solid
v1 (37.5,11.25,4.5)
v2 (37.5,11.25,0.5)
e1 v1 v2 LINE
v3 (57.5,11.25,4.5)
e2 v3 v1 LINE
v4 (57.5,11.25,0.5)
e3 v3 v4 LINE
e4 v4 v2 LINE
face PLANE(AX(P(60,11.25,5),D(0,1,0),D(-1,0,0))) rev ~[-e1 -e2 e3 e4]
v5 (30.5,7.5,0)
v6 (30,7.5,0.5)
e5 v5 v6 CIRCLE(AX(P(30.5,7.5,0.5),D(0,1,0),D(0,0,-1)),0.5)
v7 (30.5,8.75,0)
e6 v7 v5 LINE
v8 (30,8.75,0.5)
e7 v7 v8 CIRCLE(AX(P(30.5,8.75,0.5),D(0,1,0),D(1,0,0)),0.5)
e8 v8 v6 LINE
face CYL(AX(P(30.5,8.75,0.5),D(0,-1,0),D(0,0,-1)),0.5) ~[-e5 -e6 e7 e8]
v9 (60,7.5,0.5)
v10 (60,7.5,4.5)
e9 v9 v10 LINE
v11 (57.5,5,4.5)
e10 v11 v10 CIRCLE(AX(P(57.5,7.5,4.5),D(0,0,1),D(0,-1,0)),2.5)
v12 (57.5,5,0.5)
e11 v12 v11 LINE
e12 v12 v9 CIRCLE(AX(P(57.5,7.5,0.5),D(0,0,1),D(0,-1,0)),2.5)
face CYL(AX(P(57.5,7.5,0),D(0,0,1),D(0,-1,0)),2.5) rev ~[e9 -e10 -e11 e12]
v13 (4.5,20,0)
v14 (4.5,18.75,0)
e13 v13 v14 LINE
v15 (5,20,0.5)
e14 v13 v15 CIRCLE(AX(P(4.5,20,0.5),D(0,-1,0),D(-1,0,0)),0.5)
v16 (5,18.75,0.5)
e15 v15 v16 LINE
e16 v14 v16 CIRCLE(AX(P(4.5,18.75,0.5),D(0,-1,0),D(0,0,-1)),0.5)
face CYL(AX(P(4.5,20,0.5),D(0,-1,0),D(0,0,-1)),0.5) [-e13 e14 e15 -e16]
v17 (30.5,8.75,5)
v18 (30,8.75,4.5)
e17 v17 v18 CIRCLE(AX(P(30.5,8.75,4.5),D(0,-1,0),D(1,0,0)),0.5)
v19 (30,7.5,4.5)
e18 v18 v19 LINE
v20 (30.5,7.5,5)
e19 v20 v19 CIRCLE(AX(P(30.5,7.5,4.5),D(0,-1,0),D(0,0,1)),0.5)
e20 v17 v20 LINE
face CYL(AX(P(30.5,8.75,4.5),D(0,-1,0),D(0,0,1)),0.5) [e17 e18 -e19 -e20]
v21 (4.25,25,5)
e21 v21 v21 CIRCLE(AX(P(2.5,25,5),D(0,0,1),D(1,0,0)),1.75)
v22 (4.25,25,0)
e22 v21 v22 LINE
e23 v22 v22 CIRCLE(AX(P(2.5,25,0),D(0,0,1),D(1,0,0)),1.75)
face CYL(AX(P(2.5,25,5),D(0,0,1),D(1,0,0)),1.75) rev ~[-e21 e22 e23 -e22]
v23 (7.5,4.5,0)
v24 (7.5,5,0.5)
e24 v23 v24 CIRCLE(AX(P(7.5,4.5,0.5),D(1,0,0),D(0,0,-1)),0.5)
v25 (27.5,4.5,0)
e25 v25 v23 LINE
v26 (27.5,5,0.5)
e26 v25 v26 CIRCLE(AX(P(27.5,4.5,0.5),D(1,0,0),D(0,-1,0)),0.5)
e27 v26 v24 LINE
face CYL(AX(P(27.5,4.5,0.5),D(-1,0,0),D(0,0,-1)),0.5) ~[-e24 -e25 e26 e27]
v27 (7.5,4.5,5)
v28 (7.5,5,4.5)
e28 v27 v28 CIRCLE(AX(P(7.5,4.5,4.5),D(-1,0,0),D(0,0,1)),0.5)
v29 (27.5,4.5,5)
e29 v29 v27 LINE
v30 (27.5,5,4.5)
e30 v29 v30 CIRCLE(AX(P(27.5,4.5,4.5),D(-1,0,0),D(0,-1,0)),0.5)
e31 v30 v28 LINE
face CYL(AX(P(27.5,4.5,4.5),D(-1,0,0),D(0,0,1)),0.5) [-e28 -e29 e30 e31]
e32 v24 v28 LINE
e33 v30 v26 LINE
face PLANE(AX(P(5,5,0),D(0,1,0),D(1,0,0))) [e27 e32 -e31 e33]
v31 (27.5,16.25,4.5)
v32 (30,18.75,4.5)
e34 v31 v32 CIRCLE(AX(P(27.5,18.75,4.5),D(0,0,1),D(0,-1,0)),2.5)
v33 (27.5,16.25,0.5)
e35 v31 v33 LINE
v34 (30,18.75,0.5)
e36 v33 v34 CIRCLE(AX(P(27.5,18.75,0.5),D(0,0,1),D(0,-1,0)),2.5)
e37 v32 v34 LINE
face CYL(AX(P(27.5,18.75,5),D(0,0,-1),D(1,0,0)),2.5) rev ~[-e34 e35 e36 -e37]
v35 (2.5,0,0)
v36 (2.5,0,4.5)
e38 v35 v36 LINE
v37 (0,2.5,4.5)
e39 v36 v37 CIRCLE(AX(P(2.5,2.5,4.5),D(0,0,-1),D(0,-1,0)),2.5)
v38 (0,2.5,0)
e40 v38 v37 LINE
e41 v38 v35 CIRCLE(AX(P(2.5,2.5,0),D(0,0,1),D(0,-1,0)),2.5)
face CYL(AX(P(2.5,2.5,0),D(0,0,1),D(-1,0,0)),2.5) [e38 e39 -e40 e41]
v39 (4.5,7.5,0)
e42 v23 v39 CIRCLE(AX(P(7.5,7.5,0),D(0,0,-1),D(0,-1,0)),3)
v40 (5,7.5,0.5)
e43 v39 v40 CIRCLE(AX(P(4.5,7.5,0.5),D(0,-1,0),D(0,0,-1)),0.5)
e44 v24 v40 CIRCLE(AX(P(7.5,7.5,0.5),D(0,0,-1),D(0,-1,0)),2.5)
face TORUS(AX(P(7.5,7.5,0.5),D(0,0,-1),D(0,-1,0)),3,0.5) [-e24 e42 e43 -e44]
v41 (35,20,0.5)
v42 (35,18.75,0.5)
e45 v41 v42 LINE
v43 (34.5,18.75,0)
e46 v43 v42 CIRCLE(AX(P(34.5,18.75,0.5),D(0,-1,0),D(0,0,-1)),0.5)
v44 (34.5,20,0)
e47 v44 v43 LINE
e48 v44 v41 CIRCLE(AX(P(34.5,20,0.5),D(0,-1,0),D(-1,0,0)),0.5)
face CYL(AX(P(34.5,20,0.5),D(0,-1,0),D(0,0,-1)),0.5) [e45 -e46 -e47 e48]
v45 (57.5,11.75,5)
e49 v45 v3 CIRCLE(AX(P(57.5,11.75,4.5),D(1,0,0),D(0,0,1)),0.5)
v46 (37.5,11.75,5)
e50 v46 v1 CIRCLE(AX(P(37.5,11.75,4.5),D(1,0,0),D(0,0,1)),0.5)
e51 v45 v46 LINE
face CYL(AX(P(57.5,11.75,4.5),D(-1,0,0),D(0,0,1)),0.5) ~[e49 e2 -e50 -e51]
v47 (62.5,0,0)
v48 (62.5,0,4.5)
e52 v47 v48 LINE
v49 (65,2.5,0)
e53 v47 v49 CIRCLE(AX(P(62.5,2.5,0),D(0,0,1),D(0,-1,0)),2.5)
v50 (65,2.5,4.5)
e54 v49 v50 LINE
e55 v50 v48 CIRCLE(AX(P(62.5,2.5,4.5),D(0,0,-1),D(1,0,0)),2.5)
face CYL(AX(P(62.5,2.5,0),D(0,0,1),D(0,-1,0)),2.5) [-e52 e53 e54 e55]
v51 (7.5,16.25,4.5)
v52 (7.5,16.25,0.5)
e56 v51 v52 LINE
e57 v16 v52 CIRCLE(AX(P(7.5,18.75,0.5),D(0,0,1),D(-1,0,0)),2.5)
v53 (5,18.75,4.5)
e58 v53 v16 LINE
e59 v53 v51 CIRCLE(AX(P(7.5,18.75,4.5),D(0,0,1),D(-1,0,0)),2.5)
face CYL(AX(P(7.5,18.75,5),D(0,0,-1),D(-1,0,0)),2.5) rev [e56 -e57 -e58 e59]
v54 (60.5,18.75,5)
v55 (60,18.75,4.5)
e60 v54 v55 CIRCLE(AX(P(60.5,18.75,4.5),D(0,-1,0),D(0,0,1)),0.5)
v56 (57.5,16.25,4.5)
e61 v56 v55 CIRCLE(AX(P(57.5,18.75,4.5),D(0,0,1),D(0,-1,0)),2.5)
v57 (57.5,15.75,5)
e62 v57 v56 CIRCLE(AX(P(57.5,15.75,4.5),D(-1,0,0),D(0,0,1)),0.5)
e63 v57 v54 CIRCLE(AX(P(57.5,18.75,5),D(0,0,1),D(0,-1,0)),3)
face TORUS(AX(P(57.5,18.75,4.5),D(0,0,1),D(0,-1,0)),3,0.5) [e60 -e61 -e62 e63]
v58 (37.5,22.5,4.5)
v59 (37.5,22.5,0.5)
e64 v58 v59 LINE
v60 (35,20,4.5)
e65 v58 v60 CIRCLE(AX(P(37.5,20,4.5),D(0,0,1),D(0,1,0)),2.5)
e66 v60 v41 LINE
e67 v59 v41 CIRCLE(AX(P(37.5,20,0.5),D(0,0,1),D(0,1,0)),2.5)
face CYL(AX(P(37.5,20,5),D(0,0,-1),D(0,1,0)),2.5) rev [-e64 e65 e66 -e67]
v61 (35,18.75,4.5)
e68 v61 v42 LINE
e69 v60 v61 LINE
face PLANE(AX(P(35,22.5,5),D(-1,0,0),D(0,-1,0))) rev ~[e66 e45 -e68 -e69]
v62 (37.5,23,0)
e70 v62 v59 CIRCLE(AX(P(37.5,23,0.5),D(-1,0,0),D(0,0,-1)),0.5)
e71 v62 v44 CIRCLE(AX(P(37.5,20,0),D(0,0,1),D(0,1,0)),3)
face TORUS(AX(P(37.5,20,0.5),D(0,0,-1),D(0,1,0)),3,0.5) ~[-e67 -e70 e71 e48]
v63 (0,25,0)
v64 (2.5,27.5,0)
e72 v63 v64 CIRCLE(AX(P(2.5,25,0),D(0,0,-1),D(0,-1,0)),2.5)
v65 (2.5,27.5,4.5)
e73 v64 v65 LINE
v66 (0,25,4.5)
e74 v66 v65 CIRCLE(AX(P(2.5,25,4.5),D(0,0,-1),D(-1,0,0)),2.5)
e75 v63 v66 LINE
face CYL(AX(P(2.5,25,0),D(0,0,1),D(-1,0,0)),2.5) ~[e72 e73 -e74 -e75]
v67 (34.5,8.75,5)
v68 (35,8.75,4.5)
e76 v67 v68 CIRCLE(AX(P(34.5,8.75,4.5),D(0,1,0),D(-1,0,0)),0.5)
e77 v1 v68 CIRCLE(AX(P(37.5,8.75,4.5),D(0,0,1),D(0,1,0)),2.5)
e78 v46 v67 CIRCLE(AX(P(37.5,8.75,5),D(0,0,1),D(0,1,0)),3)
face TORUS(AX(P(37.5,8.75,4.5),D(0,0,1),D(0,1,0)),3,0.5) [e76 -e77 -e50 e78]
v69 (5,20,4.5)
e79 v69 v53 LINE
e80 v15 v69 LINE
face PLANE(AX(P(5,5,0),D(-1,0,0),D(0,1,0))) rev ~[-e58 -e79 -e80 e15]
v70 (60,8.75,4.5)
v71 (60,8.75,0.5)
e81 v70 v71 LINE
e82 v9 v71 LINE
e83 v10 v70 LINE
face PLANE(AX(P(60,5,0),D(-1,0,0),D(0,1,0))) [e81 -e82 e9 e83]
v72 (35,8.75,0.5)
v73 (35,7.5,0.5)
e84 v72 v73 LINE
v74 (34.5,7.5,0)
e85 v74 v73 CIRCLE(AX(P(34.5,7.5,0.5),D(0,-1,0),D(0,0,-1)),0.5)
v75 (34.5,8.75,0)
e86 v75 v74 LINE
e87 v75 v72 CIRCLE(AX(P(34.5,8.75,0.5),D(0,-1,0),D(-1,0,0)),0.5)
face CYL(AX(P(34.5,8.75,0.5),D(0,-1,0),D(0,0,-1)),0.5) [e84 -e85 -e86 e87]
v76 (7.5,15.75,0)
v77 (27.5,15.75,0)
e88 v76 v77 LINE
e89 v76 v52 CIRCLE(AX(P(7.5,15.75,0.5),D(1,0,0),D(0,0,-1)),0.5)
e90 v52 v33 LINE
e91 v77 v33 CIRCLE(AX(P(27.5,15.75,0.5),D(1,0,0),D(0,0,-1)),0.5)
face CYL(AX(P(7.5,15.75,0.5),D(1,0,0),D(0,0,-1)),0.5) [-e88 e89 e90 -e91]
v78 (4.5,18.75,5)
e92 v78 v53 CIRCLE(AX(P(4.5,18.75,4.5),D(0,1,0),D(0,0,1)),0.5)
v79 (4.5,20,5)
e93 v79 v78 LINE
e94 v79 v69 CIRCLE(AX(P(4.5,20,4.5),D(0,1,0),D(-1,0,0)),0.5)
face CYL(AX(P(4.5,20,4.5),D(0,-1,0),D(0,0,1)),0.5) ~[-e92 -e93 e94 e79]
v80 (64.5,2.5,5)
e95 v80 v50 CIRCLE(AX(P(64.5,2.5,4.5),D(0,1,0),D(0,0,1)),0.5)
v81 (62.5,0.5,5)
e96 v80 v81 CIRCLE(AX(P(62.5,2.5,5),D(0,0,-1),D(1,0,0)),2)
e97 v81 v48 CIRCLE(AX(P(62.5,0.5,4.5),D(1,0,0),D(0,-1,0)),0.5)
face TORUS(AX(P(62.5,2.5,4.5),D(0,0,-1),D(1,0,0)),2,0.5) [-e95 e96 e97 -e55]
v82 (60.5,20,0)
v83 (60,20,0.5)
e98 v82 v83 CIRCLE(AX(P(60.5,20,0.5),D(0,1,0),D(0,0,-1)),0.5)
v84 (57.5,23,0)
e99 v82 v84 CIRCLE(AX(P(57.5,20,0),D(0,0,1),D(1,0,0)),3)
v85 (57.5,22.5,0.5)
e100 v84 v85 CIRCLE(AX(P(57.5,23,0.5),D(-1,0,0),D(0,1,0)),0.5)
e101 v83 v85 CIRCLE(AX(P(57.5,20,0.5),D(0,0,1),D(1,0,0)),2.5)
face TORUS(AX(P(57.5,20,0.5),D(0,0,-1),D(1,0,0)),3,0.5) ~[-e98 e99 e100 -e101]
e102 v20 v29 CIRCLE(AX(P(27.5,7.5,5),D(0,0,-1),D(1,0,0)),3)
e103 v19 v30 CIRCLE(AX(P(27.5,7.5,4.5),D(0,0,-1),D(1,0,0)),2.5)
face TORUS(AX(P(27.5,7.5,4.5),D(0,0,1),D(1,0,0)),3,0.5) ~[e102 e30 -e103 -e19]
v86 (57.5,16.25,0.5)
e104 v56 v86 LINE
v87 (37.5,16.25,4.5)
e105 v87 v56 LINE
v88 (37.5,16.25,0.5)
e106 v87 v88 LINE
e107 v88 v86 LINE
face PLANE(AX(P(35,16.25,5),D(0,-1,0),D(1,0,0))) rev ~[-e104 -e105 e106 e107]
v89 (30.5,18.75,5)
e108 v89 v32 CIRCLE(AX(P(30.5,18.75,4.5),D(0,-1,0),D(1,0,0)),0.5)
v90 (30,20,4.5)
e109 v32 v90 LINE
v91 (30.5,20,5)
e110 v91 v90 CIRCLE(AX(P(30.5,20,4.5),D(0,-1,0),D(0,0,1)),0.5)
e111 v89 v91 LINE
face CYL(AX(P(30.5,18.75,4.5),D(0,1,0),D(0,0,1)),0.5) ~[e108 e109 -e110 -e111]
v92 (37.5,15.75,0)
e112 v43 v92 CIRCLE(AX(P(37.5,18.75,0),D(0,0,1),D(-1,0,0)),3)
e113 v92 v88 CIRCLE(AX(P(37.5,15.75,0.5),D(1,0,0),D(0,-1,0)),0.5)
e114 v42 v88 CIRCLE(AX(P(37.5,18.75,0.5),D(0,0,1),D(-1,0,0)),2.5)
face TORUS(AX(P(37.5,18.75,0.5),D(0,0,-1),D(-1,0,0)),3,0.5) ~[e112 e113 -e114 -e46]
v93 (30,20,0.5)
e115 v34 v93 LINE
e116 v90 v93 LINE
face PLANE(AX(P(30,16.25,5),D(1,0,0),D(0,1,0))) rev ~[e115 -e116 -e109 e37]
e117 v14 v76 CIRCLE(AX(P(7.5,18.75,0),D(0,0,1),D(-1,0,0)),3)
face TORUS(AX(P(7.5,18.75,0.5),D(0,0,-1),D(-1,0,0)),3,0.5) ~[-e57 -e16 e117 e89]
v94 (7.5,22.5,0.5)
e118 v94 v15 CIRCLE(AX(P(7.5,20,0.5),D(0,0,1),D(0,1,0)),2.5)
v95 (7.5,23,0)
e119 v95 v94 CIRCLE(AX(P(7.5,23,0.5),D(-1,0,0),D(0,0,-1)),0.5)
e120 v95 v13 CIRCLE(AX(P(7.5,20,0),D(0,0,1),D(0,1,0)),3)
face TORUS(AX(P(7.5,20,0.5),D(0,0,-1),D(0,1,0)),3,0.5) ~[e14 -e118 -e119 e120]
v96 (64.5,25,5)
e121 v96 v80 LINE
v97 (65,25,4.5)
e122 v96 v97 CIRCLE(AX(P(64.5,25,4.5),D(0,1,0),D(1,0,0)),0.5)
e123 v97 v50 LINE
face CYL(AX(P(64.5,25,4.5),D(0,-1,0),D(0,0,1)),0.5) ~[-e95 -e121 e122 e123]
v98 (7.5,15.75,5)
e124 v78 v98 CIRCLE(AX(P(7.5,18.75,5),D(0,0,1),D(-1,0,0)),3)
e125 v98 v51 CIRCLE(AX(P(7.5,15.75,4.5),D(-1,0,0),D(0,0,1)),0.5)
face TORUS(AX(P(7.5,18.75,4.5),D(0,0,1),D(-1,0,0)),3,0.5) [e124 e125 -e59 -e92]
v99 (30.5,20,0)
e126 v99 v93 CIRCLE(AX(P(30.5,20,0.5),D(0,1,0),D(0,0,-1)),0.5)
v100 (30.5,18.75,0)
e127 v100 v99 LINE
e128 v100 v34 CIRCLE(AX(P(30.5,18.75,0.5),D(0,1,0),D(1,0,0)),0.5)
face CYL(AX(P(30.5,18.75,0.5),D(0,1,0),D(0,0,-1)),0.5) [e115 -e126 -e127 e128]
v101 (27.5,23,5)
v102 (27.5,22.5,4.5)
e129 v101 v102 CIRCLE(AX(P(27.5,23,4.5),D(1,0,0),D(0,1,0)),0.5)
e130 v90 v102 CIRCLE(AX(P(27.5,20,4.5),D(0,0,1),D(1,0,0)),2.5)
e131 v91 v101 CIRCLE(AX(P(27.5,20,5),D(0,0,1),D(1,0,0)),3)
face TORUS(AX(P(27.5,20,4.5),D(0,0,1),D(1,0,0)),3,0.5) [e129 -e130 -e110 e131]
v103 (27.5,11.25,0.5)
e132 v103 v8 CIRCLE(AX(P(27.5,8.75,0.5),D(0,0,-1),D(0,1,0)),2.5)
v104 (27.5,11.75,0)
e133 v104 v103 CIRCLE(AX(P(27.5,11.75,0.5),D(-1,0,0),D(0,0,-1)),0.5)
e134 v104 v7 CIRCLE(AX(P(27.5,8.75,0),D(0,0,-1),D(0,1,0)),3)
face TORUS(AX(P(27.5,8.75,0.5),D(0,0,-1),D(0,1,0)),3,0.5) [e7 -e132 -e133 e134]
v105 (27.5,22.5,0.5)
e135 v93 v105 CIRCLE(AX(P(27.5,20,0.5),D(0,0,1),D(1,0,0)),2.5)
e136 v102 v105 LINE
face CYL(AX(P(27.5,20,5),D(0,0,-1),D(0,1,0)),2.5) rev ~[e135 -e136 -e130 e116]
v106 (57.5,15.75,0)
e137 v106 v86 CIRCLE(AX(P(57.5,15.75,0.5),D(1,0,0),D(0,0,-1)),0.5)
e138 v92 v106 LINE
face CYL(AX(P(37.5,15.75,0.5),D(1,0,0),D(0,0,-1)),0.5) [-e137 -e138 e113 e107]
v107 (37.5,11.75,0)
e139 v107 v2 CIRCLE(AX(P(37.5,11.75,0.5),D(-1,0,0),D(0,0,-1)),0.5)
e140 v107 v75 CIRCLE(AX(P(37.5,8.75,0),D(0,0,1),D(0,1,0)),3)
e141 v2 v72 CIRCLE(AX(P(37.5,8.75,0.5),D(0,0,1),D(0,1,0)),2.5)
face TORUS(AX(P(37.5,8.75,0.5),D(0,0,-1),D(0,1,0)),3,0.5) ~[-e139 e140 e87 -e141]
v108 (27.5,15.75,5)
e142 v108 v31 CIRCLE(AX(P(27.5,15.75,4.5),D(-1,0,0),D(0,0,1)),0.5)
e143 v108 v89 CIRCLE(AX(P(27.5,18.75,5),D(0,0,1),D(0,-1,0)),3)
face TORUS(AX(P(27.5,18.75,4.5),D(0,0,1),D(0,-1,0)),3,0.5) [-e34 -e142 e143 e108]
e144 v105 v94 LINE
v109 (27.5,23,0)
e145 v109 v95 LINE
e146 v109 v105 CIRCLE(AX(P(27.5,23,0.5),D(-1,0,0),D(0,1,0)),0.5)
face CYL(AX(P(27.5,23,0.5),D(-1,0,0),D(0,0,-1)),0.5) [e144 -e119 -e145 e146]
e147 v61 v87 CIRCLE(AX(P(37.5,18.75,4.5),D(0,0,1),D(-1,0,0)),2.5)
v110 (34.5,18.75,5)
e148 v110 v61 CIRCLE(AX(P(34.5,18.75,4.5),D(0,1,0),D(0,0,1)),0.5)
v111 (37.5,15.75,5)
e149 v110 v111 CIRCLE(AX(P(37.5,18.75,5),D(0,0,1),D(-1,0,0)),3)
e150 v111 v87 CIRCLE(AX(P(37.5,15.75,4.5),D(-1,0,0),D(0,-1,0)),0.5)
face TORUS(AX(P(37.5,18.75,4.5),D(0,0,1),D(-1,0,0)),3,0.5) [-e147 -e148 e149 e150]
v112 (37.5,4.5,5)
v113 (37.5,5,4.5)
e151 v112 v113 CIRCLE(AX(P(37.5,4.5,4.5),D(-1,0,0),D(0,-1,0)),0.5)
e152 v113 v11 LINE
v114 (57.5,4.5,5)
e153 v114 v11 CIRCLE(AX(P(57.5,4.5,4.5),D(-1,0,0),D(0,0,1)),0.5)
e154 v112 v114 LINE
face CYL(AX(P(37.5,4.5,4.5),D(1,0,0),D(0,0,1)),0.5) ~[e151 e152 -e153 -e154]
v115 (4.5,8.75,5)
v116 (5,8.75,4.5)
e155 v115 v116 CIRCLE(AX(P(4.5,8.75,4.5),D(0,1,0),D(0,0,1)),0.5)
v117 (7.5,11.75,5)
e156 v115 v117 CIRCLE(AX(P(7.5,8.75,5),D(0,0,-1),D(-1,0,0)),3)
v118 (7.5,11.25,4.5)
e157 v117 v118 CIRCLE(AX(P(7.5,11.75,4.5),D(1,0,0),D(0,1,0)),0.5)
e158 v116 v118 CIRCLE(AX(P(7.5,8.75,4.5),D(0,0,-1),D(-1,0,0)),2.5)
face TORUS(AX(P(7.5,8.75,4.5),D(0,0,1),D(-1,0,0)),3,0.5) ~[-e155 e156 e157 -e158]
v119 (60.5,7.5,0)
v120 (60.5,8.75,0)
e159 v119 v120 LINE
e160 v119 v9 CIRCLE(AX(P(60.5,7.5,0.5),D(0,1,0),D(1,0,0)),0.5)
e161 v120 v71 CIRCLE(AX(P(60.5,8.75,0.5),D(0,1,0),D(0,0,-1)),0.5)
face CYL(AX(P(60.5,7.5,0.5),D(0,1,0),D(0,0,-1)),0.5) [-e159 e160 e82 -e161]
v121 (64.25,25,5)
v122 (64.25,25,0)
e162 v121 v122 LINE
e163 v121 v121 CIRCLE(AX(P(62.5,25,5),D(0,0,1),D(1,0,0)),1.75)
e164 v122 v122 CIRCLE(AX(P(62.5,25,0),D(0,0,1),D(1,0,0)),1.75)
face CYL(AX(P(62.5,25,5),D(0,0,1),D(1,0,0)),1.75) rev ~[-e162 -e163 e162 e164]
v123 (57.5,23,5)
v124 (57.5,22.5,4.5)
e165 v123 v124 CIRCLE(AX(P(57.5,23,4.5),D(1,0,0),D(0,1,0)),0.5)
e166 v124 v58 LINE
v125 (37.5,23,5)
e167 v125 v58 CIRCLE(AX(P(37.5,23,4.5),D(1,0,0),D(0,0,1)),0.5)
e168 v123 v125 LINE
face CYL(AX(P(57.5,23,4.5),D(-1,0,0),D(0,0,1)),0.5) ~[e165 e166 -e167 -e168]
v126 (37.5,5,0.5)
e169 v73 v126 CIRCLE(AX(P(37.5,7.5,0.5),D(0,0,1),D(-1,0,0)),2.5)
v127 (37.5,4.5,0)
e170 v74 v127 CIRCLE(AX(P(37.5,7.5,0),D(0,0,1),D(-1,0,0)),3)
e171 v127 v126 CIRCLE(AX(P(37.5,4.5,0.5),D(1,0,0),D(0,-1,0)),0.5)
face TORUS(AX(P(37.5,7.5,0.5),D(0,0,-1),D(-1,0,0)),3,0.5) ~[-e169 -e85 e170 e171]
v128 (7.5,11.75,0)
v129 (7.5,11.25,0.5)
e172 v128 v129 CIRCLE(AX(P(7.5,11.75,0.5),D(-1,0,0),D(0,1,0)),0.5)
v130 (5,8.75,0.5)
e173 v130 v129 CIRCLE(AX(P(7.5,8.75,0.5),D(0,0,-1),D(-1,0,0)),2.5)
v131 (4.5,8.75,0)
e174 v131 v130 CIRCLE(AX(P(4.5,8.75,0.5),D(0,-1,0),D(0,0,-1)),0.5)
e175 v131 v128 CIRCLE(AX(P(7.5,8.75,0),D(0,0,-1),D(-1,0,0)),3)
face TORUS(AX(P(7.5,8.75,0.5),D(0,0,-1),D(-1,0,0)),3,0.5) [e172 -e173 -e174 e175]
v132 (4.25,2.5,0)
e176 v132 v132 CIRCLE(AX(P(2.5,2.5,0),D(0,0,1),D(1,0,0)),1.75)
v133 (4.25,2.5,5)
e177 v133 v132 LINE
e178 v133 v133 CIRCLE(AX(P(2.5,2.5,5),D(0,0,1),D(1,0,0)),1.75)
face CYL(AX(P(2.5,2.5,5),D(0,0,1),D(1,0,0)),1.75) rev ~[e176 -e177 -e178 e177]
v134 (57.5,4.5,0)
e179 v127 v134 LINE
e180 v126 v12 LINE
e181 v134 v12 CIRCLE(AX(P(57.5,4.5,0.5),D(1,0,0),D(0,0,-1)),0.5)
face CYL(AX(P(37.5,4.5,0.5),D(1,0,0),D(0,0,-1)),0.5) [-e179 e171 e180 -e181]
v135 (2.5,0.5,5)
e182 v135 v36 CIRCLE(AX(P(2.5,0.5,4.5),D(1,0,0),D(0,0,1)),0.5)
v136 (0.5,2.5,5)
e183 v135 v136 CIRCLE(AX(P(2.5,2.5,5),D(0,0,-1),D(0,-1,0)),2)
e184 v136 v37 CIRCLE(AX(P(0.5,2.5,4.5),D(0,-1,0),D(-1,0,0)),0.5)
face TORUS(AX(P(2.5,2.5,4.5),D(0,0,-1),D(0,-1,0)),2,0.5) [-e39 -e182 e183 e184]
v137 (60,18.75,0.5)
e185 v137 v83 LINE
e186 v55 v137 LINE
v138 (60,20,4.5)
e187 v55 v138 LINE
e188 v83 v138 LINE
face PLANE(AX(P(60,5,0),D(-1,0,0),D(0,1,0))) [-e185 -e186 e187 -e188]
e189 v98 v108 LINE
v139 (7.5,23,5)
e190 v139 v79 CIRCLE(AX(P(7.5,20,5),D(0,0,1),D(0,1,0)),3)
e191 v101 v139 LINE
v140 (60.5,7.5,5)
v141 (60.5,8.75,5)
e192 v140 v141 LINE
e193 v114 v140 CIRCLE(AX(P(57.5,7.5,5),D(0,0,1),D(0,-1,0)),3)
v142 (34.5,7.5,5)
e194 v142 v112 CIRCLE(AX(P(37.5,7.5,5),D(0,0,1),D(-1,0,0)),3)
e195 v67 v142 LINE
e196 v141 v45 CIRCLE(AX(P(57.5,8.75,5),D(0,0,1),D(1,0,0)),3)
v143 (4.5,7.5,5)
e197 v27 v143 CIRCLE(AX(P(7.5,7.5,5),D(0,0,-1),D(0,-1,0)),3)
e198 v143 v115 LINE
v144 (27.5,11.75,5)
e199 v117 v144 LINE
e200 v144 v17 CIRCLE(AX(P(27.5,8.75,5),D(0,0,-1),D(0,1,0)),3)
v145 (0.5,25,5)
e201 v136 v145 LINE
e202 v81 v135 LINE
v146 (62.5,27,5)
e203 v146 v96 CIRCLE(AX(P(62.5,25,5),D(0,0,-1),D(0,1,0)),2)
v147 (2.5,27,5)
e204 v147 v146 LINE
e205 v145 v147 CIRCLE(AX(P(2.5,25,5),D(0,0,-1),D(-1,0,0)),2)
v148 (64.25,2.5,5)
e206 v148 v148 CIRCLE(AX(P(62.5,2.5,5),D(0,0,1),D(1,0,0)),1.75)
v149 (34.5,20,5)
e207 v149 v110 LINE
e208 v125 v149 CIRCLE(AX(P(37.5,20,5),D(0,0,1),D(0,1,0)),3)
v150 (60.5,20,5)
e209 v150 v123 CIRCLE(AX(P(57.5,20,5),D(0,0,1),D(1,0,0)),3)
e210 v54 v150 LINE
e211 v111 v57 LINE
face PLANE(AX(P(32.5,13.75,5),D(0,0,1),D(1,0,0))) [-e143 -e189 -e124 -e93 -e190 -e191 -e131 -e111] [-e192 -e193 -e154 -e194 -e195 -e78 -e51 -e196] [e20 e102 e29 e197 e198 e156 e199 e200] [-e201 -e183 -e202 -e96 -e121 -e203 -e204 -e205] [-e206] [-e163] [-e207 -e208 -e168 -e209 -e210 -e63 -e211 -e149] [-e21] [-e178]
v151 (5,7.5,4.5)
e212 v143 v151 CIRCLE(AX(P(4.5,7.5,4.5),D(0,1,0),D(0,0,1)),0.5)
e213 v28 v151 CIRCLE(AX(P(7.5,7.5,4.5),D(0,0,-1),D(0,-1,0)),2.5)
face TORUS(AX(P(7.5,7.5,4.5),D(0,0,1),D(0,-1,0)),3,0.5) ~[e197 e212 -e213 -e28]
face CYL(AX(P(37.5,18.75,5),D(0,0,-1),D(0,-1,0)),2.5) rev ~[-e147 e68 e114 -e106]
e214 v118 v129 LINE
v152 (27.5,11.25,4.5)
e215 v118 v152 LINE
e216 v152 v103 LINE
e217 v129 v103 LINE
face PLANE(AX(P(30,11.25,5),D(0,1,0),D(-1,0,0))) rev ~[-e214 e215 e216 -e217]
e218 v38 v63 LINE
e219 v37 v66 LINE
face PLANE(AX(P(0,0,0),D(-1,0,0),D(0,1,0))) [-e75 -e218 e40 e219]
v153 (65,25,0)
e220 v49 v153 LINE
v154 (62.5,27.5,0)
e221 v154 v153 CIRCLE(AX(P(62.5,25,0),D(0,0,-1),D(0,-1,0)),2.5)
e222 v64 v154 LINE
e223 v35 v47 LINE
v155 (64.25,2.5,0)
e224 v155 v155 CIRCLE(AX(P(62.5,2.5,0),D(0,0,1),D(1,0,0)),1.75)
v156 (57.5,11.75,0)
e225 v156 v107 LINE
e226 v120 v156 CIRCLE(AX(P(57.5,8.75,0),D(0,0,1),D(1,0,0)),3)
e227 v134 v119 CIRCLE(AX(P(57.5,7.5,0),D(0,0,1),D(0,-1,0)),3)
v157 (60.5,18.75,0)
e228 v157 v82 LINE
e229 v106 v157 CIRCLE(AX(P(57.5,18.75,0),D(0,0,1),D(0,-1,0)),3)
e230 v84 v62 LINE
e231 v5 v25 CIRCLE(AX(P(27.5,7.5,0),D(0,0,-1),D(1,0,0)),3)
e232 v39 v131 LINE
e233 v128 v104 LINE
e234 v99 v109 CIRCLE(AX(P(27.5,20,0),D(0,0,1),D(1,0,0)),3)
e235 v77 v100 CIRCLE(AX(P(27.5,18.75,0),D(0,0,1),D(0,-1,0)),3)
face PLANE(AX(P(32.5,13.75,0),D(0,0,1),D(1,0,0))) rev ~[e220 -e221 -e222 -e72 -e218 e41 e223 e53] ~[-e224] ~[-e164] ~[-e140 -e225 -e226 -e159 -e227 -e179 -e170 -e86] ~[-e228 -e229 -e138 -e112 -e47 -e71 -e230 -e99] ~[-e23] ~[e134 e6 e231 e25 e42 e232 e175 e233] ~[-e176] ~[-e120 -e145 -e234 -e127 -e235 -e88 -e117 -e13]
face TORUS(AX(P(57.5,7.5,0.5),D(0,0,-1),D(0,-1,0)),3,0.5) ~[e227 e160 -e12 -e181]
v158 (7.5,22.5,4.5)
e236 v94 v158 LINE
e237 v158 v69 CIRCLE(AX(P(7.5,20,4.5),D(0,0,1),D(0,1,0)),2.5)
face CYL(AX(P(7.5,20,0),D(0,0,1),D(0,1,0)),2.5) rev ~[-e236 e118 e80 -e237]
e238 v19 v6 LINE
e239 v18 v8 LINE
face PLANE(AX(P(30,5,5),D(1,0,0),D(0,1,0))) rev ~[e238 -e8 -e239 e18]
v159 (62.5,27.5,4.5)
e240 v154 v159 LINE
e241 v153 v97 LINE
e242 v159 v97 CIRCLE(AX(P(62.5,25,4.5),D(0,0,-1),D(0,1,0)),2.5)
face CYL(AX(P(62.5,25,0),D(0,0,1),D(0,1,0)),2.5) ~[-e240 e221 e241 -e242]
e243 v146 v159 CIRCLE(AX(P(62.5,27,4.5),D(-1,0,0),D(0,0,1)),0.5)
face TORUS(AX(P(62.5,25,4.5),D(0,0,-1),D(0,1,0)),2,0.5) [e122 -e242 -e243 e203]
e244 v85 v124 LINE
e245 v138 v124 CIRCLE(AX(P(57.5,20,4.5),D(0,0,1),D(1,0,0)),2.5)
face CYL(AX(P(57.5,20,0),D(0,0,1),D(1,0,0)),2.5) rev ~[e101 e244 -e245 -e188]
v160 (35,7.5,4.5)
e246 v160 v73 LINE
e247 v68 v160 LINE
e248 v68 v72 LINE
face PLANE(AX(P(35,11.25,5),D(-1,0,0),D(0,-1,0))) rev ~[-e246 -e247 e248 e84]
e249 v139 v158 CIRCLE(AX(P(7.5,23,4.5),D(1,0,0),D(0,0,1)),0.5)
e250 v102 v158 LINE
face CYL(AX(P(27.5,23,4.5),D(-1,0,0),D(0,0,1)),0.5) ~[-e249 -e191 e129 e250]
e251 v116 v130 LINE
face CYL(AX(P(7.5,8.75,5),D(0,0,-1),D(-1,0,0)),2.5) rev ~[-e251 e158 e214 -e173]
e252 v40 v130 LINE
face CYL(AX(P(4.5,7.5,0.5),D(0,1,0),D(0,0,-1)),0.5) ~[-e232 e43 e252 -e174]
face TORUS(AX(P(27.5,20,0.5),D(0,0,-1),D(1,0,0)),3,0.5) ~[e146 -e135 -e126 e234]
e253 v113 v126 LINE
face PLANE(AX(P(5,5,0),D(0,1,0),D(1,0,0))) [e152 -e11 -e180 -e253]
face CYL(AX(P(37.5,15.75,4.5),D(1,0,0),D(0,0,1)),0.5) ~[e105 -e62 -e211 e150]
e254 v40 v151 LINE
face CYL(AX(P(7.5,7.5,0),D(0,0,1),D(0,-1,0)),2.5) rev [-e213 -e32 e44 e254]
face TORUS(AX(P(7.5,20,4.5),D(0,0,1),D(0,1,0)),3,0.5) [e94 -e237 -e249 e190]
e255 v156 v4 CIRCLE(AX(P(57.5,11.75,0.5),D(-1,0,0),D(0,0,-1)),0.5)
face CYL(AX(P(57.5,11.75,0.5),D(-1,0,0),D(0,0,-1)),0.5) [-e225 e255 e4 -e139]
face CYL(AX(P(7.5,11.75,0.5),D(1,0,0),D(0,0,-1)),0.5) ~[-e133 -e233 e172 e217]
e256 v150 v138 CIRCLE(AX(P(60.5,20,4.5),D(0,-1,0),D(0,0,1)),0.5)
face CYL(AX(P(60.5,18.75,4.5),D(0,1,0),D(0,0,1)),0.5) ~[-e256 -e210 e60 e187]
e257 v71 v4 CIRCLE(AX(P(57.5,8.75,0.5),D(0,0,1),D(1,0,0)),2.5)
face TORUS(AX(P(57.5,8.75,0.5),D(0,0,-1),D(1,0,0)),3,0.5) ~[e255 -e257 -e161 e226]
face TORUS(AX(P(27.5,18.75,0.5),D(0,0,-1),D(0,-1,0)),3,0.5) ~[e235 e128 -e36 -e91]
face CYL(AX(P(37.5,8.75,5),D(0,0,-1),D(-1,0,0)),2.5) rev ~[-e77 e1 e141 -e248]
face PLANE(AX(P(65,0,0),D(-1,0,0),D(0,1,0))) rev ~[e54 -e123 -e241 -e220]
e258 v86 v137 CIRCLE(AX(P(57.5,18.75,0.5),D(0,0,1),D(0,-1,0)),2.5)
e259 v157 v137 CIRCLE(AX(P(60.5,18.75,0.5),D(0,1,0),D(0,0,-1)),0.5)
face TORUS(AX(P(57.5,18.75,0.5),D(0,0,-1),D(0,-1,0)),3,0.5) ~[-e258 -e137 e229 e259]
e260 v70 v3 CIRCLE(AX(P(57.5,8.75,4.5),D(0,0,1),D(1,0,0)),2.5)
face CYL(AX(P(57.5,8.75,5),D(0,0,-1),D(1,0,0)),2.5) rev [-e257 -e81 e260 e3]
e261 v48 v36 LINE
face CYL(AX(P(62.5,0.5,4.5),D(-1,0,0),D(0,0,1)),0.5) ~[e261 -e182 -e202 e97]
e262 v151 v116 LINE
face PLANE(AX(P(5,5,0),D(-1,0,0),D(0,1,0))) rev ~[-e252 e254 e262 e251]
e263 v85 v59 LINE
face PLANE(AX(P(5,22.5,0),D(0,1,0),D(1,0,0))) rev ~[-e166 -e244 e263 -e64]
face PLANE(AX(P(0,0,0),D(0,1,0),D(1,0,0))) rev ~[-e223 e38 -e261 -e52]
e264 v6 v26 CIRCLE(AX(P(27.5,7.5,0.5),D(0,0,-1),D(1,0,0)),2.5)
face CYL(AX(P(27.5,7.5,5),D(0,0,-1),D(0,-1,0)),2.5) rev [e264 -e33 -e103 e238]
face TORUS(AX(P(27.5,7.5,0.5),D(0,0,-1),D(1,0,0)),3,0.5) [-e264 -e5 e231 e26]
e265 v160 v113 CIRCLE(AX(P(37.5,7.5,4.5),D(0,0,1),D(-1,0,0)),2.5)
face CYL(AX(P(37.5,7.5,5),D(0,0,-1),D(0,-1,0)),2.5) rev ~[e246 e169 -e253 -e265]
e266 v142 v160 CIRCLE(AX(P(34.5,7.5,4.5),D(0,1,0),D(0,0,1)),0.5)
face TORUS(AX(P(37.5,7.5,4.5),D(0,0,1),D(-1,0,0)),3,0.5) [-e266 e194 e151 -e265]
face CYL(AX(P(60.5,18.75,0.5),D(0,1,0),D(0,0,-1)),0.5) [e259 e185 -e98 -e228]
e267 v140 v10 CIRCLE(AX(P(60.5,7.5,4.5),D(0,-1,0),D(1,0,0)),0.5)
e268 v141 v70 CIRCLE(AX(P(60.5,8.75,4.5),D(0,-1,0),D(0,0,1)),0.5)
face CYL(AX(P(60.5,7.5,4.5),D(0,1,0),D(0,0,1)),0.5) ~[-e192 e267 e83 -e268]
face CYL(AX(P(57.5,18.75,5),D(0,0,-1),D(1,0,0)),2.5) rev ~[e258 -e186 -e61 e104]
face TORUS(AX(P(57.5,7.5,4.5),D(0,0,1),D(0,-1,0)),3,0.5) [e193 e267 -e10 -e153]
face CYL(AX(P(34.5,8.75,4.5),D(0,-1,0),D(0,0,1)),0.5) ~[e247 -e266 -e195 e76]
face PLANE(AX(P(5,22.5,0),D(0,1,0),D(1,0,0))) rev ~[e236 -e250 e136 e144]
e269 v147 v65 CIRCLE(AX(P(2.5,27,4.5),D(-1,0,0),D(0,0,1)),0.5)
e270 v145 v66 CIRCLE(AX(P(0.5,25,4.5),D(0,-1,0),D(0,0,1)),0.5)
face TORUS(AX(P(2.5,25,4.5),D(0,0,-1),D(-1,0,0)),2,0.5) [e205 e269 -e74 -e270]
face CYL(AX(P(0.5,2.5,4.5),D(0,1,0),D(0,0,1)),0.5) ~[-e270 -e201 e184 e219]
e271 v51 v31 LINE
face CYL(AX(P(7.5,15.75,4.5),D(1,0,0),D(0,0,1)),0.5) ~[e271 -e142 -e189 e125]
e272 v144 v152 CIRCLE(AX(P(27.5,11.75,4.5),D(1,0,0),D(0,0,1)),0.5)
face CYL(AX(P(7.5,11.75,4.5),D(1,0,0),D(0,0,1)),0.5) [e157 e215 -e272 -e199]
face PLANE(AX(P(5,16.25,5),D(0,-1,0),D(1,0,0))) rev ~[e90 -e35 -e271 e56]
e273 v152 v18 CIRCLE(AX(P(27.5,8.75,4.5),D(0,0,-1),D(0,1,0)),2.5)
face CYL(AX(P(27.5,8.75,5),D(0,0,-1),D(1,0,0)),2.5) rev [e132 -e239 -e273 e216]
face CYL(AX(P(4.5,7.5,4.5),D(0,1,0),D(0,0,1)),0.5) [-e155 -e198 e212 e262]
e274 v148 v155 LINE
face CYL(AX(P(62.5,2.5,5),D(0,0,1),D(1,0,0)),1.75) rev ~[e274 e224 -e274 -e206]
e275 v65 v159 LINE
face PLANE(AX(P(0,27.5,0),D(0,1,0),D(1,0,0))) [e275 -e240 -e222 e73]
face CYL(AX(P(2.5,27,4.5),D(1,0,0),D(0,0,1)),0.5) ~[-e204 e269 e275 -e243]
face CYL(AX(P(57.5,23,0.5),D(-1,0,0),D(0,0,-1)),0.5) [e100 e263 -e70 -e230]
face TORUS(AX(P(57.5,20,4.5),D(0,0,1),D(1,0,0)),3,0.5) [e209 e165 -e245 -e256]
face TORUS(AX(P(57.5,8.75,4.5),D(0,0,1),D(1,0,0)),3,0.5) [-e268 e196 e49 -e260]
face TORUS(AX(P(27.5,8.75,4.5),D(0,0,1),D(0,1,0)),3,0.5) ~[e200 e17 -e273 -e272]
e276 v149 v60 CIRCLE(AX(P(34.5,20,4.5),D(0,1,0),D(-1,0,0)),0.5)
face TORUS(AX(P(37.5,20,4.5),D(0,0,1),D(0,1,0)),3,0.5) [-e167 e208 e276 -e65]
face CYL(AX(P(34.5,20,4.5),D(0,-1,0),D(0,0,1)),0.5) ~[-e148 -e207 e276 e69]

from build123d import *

# Parameters (mm, degrees)
SKETCH1_W           = 65
SKETCH1_H           = 27.5
SKETCH1_W_2         = 55
SKETCH1_H_2         = 17.5
BOSS_EXTRUDE1_DEPTH = 5
BOSS_EXTRUDE2_DEPTH = 5
SKETCH3_R           = 1.75
CUT_EXTRUDE1_DEPTH  = 71.75485849
FILLET1_R           = 2.5
FILLET2_R           = 0.5


with BuildPart() as part:
    # Sketch1 → Boss-Extrude1 (new body)
    with BuildSketch(Plane.XY):
        with Locations((32.5, 13.75)):
            Rectangle(SKETCH1_W, SKETCH1_H)
        with Locations((32.5, 13.75)):
            Rectangle(SKETCH1_W_2, SKETCH1_H_2, mode=Mode.SUBTRACT)
    extrude(amount=BOSS_EXTRUDE1_DEPTH)

    # Sketch2 → Boss-Extrude2 (add)
    with BuildSketch(Plane.XY.offset(5)):
        Polygon((5, 13.75), (5, 16.25), (30, 16.25), (30, 22.5), (32.5, 22.5), (35, 22.5), (35, 16.25), (60, 16.25), (60, 13.75), (60, 11.25), (35, 11.25), (35, 5), (32.5, 5), (30, 5), (30, 11.25), (5, 11.25), align=None)
    extrude(amount=-BOSS_EXTRUDE2_DEPTH)

    # Sketch3 → Cut-Extrude1 (cut, through all)
    with BuildSketch(Plane.XY.offset(5)):
        with Locations((2.5, 2.5)):
            Circle(SKETCH3_R)
        with Locations((62.5, 2.5)):
            Circle(SKETCH3_R)
        with Locations((62.5, 25)):
            Circle(SKETCH3_R)
        with Locations((2.5, 25)):
            Circle(SKETCH3_R)
    extrude(amount=-CUT_EXTRUDE1_DEPTH, mode=Mode.SUBTRACT)

    # Fillet1
    fillet1_edges = [part.edges().sort_by_distance(p)[0] for p in [
        (60, 22.5, 2.5),
        (5, 22.5, 2.5),
        (5, 5, 2.5),
        (60, 5, 2.5),
        (5, 11.25, 2.5),
        (5, 16.25, 2.5),
        (30, 16.25, 2.5),
        (30, 22.5, 2.5),
        (35, 22.5, 2.5),
        (35, 16.25, 2.5),
        (60, 16.25, 2.5),
        (60, 11.25, 2.5),
        (35, 11.25, 2.5),
        (35, 5, 2.5),
        (30, 5, 2.5),
        (30, 11.25, 2.5),
        (0, 27.5, 2.5),
        (65, 27.5, 2.5),
        (65, 0, 2.5),
        (0, 0, 2.5),
    ]]
    fillet(fillet1_edges, radius=FILLET1_R)

    # Fillet2
    fillet2_edges = [part.edges().sort_by_distance(p)[0] for p in [
        (5, 8.125, 5),
        (5, 8.125, 0),
        (17.5, 5, 0),
        (17.5, 5, 5),
        (17.5, 11.25, 5),
        (17.5, 11.25, 0),
        (17.5, 16.25, 5),
        (17.5, 16.25, 0),
        (5, 19.375, 0),
        (5, 19.375, 5),
        (17.5, 22.5, 5),
        (17.5, 22.5, 0),
        (30, 8.125, 5),
        (30, 8.125, 0),
        (30, 19.375, 5),
        (30, 19.375, 0),
        (47.5, 11.25, 5),
        (47.5, 11.25, 0),
        (60, 8.125, 0),
        (60, 8.125, 5),
        (35, 8.125, 5),
        (35, 8.125, 0),
        (47.5, 5, 5),
        (47.5, 5, 0),
        (60, 19.375, 5),
        (60, 19.375, 0),
        (47.5, 16.25, 5),
        (47.5, 16.25, 0),
        (35, 19.375, 5),
        (35, 19.375, 0),
        (47.5, 22.5, 0),
        (47.5, 22.5, 5),
        (32.5, 27.5, 5),
        (65, 13.75, 5),
        (0, 13.75, 5),
        (32.5, 0, 5),
        (0.732233047, 0.732233047, 5),
        (0.732233047, 26.767766953, 5),
        (64.267766953, 0.732233047, 5),
        (64.267766953, 26.767766953, 5),
        (5.732233047, 5.732233047, 0),
        (5.732233047, 5.732233047, 5),
        (5.732233047, 10.517766953, 5),
        (5.732233047, 10.517766953, 0),
        (5.732233047, 16.982233047, 5),
        (5.732233047, 16.982233047, 0),
        (5.732233047, 21.767766953, 0),
        (5.732233047, 21.767766953, 5),
        (29.267766953, 5.732233047, 5),
        (29.267766953, 5.732233047, 0),
        (29.267766953, 16.982233047, 5),
        (29.267766953, 16.982233047, 0),
        (29.267766953, 10.517766953, 5),
        (29.267766953, 10.517766953, 0),
        (29.267766953, 21.767766953, 5),
        (29.267766953, 21.767766953, 0),
        (59.267766953, 10.517766953, 5),
        (59.267766953, 10.517766953, 0),
        (35.732233047, 10.517766953, 5),
        (35.732233047, 10.517766953, 0),
        (35.732233047, 5.732233047, 5),
        (35.732233047, 5.732233047, 0),
        (59.267766953, 5.732233047, 0),
        (59.267766953, 5.732233047, 5),
        (59.267766953, 16.982233047, 5),
        (59.267766953, 16.982233047, 0),
        (35.732233047, 16.982233047, 5),
        (35.732233047, 16.982233047, 0),
        (35.732233047, 21.767766953, 5),
        (35.732233047, 21.767766953, 0),
        (59.267766953, 21.767766953, 0),
        (59.267766953, 21.767766953, 5),
    ]]
    fillet(fillet2_edges, radius=FILLET2_R)


solid = part.part
